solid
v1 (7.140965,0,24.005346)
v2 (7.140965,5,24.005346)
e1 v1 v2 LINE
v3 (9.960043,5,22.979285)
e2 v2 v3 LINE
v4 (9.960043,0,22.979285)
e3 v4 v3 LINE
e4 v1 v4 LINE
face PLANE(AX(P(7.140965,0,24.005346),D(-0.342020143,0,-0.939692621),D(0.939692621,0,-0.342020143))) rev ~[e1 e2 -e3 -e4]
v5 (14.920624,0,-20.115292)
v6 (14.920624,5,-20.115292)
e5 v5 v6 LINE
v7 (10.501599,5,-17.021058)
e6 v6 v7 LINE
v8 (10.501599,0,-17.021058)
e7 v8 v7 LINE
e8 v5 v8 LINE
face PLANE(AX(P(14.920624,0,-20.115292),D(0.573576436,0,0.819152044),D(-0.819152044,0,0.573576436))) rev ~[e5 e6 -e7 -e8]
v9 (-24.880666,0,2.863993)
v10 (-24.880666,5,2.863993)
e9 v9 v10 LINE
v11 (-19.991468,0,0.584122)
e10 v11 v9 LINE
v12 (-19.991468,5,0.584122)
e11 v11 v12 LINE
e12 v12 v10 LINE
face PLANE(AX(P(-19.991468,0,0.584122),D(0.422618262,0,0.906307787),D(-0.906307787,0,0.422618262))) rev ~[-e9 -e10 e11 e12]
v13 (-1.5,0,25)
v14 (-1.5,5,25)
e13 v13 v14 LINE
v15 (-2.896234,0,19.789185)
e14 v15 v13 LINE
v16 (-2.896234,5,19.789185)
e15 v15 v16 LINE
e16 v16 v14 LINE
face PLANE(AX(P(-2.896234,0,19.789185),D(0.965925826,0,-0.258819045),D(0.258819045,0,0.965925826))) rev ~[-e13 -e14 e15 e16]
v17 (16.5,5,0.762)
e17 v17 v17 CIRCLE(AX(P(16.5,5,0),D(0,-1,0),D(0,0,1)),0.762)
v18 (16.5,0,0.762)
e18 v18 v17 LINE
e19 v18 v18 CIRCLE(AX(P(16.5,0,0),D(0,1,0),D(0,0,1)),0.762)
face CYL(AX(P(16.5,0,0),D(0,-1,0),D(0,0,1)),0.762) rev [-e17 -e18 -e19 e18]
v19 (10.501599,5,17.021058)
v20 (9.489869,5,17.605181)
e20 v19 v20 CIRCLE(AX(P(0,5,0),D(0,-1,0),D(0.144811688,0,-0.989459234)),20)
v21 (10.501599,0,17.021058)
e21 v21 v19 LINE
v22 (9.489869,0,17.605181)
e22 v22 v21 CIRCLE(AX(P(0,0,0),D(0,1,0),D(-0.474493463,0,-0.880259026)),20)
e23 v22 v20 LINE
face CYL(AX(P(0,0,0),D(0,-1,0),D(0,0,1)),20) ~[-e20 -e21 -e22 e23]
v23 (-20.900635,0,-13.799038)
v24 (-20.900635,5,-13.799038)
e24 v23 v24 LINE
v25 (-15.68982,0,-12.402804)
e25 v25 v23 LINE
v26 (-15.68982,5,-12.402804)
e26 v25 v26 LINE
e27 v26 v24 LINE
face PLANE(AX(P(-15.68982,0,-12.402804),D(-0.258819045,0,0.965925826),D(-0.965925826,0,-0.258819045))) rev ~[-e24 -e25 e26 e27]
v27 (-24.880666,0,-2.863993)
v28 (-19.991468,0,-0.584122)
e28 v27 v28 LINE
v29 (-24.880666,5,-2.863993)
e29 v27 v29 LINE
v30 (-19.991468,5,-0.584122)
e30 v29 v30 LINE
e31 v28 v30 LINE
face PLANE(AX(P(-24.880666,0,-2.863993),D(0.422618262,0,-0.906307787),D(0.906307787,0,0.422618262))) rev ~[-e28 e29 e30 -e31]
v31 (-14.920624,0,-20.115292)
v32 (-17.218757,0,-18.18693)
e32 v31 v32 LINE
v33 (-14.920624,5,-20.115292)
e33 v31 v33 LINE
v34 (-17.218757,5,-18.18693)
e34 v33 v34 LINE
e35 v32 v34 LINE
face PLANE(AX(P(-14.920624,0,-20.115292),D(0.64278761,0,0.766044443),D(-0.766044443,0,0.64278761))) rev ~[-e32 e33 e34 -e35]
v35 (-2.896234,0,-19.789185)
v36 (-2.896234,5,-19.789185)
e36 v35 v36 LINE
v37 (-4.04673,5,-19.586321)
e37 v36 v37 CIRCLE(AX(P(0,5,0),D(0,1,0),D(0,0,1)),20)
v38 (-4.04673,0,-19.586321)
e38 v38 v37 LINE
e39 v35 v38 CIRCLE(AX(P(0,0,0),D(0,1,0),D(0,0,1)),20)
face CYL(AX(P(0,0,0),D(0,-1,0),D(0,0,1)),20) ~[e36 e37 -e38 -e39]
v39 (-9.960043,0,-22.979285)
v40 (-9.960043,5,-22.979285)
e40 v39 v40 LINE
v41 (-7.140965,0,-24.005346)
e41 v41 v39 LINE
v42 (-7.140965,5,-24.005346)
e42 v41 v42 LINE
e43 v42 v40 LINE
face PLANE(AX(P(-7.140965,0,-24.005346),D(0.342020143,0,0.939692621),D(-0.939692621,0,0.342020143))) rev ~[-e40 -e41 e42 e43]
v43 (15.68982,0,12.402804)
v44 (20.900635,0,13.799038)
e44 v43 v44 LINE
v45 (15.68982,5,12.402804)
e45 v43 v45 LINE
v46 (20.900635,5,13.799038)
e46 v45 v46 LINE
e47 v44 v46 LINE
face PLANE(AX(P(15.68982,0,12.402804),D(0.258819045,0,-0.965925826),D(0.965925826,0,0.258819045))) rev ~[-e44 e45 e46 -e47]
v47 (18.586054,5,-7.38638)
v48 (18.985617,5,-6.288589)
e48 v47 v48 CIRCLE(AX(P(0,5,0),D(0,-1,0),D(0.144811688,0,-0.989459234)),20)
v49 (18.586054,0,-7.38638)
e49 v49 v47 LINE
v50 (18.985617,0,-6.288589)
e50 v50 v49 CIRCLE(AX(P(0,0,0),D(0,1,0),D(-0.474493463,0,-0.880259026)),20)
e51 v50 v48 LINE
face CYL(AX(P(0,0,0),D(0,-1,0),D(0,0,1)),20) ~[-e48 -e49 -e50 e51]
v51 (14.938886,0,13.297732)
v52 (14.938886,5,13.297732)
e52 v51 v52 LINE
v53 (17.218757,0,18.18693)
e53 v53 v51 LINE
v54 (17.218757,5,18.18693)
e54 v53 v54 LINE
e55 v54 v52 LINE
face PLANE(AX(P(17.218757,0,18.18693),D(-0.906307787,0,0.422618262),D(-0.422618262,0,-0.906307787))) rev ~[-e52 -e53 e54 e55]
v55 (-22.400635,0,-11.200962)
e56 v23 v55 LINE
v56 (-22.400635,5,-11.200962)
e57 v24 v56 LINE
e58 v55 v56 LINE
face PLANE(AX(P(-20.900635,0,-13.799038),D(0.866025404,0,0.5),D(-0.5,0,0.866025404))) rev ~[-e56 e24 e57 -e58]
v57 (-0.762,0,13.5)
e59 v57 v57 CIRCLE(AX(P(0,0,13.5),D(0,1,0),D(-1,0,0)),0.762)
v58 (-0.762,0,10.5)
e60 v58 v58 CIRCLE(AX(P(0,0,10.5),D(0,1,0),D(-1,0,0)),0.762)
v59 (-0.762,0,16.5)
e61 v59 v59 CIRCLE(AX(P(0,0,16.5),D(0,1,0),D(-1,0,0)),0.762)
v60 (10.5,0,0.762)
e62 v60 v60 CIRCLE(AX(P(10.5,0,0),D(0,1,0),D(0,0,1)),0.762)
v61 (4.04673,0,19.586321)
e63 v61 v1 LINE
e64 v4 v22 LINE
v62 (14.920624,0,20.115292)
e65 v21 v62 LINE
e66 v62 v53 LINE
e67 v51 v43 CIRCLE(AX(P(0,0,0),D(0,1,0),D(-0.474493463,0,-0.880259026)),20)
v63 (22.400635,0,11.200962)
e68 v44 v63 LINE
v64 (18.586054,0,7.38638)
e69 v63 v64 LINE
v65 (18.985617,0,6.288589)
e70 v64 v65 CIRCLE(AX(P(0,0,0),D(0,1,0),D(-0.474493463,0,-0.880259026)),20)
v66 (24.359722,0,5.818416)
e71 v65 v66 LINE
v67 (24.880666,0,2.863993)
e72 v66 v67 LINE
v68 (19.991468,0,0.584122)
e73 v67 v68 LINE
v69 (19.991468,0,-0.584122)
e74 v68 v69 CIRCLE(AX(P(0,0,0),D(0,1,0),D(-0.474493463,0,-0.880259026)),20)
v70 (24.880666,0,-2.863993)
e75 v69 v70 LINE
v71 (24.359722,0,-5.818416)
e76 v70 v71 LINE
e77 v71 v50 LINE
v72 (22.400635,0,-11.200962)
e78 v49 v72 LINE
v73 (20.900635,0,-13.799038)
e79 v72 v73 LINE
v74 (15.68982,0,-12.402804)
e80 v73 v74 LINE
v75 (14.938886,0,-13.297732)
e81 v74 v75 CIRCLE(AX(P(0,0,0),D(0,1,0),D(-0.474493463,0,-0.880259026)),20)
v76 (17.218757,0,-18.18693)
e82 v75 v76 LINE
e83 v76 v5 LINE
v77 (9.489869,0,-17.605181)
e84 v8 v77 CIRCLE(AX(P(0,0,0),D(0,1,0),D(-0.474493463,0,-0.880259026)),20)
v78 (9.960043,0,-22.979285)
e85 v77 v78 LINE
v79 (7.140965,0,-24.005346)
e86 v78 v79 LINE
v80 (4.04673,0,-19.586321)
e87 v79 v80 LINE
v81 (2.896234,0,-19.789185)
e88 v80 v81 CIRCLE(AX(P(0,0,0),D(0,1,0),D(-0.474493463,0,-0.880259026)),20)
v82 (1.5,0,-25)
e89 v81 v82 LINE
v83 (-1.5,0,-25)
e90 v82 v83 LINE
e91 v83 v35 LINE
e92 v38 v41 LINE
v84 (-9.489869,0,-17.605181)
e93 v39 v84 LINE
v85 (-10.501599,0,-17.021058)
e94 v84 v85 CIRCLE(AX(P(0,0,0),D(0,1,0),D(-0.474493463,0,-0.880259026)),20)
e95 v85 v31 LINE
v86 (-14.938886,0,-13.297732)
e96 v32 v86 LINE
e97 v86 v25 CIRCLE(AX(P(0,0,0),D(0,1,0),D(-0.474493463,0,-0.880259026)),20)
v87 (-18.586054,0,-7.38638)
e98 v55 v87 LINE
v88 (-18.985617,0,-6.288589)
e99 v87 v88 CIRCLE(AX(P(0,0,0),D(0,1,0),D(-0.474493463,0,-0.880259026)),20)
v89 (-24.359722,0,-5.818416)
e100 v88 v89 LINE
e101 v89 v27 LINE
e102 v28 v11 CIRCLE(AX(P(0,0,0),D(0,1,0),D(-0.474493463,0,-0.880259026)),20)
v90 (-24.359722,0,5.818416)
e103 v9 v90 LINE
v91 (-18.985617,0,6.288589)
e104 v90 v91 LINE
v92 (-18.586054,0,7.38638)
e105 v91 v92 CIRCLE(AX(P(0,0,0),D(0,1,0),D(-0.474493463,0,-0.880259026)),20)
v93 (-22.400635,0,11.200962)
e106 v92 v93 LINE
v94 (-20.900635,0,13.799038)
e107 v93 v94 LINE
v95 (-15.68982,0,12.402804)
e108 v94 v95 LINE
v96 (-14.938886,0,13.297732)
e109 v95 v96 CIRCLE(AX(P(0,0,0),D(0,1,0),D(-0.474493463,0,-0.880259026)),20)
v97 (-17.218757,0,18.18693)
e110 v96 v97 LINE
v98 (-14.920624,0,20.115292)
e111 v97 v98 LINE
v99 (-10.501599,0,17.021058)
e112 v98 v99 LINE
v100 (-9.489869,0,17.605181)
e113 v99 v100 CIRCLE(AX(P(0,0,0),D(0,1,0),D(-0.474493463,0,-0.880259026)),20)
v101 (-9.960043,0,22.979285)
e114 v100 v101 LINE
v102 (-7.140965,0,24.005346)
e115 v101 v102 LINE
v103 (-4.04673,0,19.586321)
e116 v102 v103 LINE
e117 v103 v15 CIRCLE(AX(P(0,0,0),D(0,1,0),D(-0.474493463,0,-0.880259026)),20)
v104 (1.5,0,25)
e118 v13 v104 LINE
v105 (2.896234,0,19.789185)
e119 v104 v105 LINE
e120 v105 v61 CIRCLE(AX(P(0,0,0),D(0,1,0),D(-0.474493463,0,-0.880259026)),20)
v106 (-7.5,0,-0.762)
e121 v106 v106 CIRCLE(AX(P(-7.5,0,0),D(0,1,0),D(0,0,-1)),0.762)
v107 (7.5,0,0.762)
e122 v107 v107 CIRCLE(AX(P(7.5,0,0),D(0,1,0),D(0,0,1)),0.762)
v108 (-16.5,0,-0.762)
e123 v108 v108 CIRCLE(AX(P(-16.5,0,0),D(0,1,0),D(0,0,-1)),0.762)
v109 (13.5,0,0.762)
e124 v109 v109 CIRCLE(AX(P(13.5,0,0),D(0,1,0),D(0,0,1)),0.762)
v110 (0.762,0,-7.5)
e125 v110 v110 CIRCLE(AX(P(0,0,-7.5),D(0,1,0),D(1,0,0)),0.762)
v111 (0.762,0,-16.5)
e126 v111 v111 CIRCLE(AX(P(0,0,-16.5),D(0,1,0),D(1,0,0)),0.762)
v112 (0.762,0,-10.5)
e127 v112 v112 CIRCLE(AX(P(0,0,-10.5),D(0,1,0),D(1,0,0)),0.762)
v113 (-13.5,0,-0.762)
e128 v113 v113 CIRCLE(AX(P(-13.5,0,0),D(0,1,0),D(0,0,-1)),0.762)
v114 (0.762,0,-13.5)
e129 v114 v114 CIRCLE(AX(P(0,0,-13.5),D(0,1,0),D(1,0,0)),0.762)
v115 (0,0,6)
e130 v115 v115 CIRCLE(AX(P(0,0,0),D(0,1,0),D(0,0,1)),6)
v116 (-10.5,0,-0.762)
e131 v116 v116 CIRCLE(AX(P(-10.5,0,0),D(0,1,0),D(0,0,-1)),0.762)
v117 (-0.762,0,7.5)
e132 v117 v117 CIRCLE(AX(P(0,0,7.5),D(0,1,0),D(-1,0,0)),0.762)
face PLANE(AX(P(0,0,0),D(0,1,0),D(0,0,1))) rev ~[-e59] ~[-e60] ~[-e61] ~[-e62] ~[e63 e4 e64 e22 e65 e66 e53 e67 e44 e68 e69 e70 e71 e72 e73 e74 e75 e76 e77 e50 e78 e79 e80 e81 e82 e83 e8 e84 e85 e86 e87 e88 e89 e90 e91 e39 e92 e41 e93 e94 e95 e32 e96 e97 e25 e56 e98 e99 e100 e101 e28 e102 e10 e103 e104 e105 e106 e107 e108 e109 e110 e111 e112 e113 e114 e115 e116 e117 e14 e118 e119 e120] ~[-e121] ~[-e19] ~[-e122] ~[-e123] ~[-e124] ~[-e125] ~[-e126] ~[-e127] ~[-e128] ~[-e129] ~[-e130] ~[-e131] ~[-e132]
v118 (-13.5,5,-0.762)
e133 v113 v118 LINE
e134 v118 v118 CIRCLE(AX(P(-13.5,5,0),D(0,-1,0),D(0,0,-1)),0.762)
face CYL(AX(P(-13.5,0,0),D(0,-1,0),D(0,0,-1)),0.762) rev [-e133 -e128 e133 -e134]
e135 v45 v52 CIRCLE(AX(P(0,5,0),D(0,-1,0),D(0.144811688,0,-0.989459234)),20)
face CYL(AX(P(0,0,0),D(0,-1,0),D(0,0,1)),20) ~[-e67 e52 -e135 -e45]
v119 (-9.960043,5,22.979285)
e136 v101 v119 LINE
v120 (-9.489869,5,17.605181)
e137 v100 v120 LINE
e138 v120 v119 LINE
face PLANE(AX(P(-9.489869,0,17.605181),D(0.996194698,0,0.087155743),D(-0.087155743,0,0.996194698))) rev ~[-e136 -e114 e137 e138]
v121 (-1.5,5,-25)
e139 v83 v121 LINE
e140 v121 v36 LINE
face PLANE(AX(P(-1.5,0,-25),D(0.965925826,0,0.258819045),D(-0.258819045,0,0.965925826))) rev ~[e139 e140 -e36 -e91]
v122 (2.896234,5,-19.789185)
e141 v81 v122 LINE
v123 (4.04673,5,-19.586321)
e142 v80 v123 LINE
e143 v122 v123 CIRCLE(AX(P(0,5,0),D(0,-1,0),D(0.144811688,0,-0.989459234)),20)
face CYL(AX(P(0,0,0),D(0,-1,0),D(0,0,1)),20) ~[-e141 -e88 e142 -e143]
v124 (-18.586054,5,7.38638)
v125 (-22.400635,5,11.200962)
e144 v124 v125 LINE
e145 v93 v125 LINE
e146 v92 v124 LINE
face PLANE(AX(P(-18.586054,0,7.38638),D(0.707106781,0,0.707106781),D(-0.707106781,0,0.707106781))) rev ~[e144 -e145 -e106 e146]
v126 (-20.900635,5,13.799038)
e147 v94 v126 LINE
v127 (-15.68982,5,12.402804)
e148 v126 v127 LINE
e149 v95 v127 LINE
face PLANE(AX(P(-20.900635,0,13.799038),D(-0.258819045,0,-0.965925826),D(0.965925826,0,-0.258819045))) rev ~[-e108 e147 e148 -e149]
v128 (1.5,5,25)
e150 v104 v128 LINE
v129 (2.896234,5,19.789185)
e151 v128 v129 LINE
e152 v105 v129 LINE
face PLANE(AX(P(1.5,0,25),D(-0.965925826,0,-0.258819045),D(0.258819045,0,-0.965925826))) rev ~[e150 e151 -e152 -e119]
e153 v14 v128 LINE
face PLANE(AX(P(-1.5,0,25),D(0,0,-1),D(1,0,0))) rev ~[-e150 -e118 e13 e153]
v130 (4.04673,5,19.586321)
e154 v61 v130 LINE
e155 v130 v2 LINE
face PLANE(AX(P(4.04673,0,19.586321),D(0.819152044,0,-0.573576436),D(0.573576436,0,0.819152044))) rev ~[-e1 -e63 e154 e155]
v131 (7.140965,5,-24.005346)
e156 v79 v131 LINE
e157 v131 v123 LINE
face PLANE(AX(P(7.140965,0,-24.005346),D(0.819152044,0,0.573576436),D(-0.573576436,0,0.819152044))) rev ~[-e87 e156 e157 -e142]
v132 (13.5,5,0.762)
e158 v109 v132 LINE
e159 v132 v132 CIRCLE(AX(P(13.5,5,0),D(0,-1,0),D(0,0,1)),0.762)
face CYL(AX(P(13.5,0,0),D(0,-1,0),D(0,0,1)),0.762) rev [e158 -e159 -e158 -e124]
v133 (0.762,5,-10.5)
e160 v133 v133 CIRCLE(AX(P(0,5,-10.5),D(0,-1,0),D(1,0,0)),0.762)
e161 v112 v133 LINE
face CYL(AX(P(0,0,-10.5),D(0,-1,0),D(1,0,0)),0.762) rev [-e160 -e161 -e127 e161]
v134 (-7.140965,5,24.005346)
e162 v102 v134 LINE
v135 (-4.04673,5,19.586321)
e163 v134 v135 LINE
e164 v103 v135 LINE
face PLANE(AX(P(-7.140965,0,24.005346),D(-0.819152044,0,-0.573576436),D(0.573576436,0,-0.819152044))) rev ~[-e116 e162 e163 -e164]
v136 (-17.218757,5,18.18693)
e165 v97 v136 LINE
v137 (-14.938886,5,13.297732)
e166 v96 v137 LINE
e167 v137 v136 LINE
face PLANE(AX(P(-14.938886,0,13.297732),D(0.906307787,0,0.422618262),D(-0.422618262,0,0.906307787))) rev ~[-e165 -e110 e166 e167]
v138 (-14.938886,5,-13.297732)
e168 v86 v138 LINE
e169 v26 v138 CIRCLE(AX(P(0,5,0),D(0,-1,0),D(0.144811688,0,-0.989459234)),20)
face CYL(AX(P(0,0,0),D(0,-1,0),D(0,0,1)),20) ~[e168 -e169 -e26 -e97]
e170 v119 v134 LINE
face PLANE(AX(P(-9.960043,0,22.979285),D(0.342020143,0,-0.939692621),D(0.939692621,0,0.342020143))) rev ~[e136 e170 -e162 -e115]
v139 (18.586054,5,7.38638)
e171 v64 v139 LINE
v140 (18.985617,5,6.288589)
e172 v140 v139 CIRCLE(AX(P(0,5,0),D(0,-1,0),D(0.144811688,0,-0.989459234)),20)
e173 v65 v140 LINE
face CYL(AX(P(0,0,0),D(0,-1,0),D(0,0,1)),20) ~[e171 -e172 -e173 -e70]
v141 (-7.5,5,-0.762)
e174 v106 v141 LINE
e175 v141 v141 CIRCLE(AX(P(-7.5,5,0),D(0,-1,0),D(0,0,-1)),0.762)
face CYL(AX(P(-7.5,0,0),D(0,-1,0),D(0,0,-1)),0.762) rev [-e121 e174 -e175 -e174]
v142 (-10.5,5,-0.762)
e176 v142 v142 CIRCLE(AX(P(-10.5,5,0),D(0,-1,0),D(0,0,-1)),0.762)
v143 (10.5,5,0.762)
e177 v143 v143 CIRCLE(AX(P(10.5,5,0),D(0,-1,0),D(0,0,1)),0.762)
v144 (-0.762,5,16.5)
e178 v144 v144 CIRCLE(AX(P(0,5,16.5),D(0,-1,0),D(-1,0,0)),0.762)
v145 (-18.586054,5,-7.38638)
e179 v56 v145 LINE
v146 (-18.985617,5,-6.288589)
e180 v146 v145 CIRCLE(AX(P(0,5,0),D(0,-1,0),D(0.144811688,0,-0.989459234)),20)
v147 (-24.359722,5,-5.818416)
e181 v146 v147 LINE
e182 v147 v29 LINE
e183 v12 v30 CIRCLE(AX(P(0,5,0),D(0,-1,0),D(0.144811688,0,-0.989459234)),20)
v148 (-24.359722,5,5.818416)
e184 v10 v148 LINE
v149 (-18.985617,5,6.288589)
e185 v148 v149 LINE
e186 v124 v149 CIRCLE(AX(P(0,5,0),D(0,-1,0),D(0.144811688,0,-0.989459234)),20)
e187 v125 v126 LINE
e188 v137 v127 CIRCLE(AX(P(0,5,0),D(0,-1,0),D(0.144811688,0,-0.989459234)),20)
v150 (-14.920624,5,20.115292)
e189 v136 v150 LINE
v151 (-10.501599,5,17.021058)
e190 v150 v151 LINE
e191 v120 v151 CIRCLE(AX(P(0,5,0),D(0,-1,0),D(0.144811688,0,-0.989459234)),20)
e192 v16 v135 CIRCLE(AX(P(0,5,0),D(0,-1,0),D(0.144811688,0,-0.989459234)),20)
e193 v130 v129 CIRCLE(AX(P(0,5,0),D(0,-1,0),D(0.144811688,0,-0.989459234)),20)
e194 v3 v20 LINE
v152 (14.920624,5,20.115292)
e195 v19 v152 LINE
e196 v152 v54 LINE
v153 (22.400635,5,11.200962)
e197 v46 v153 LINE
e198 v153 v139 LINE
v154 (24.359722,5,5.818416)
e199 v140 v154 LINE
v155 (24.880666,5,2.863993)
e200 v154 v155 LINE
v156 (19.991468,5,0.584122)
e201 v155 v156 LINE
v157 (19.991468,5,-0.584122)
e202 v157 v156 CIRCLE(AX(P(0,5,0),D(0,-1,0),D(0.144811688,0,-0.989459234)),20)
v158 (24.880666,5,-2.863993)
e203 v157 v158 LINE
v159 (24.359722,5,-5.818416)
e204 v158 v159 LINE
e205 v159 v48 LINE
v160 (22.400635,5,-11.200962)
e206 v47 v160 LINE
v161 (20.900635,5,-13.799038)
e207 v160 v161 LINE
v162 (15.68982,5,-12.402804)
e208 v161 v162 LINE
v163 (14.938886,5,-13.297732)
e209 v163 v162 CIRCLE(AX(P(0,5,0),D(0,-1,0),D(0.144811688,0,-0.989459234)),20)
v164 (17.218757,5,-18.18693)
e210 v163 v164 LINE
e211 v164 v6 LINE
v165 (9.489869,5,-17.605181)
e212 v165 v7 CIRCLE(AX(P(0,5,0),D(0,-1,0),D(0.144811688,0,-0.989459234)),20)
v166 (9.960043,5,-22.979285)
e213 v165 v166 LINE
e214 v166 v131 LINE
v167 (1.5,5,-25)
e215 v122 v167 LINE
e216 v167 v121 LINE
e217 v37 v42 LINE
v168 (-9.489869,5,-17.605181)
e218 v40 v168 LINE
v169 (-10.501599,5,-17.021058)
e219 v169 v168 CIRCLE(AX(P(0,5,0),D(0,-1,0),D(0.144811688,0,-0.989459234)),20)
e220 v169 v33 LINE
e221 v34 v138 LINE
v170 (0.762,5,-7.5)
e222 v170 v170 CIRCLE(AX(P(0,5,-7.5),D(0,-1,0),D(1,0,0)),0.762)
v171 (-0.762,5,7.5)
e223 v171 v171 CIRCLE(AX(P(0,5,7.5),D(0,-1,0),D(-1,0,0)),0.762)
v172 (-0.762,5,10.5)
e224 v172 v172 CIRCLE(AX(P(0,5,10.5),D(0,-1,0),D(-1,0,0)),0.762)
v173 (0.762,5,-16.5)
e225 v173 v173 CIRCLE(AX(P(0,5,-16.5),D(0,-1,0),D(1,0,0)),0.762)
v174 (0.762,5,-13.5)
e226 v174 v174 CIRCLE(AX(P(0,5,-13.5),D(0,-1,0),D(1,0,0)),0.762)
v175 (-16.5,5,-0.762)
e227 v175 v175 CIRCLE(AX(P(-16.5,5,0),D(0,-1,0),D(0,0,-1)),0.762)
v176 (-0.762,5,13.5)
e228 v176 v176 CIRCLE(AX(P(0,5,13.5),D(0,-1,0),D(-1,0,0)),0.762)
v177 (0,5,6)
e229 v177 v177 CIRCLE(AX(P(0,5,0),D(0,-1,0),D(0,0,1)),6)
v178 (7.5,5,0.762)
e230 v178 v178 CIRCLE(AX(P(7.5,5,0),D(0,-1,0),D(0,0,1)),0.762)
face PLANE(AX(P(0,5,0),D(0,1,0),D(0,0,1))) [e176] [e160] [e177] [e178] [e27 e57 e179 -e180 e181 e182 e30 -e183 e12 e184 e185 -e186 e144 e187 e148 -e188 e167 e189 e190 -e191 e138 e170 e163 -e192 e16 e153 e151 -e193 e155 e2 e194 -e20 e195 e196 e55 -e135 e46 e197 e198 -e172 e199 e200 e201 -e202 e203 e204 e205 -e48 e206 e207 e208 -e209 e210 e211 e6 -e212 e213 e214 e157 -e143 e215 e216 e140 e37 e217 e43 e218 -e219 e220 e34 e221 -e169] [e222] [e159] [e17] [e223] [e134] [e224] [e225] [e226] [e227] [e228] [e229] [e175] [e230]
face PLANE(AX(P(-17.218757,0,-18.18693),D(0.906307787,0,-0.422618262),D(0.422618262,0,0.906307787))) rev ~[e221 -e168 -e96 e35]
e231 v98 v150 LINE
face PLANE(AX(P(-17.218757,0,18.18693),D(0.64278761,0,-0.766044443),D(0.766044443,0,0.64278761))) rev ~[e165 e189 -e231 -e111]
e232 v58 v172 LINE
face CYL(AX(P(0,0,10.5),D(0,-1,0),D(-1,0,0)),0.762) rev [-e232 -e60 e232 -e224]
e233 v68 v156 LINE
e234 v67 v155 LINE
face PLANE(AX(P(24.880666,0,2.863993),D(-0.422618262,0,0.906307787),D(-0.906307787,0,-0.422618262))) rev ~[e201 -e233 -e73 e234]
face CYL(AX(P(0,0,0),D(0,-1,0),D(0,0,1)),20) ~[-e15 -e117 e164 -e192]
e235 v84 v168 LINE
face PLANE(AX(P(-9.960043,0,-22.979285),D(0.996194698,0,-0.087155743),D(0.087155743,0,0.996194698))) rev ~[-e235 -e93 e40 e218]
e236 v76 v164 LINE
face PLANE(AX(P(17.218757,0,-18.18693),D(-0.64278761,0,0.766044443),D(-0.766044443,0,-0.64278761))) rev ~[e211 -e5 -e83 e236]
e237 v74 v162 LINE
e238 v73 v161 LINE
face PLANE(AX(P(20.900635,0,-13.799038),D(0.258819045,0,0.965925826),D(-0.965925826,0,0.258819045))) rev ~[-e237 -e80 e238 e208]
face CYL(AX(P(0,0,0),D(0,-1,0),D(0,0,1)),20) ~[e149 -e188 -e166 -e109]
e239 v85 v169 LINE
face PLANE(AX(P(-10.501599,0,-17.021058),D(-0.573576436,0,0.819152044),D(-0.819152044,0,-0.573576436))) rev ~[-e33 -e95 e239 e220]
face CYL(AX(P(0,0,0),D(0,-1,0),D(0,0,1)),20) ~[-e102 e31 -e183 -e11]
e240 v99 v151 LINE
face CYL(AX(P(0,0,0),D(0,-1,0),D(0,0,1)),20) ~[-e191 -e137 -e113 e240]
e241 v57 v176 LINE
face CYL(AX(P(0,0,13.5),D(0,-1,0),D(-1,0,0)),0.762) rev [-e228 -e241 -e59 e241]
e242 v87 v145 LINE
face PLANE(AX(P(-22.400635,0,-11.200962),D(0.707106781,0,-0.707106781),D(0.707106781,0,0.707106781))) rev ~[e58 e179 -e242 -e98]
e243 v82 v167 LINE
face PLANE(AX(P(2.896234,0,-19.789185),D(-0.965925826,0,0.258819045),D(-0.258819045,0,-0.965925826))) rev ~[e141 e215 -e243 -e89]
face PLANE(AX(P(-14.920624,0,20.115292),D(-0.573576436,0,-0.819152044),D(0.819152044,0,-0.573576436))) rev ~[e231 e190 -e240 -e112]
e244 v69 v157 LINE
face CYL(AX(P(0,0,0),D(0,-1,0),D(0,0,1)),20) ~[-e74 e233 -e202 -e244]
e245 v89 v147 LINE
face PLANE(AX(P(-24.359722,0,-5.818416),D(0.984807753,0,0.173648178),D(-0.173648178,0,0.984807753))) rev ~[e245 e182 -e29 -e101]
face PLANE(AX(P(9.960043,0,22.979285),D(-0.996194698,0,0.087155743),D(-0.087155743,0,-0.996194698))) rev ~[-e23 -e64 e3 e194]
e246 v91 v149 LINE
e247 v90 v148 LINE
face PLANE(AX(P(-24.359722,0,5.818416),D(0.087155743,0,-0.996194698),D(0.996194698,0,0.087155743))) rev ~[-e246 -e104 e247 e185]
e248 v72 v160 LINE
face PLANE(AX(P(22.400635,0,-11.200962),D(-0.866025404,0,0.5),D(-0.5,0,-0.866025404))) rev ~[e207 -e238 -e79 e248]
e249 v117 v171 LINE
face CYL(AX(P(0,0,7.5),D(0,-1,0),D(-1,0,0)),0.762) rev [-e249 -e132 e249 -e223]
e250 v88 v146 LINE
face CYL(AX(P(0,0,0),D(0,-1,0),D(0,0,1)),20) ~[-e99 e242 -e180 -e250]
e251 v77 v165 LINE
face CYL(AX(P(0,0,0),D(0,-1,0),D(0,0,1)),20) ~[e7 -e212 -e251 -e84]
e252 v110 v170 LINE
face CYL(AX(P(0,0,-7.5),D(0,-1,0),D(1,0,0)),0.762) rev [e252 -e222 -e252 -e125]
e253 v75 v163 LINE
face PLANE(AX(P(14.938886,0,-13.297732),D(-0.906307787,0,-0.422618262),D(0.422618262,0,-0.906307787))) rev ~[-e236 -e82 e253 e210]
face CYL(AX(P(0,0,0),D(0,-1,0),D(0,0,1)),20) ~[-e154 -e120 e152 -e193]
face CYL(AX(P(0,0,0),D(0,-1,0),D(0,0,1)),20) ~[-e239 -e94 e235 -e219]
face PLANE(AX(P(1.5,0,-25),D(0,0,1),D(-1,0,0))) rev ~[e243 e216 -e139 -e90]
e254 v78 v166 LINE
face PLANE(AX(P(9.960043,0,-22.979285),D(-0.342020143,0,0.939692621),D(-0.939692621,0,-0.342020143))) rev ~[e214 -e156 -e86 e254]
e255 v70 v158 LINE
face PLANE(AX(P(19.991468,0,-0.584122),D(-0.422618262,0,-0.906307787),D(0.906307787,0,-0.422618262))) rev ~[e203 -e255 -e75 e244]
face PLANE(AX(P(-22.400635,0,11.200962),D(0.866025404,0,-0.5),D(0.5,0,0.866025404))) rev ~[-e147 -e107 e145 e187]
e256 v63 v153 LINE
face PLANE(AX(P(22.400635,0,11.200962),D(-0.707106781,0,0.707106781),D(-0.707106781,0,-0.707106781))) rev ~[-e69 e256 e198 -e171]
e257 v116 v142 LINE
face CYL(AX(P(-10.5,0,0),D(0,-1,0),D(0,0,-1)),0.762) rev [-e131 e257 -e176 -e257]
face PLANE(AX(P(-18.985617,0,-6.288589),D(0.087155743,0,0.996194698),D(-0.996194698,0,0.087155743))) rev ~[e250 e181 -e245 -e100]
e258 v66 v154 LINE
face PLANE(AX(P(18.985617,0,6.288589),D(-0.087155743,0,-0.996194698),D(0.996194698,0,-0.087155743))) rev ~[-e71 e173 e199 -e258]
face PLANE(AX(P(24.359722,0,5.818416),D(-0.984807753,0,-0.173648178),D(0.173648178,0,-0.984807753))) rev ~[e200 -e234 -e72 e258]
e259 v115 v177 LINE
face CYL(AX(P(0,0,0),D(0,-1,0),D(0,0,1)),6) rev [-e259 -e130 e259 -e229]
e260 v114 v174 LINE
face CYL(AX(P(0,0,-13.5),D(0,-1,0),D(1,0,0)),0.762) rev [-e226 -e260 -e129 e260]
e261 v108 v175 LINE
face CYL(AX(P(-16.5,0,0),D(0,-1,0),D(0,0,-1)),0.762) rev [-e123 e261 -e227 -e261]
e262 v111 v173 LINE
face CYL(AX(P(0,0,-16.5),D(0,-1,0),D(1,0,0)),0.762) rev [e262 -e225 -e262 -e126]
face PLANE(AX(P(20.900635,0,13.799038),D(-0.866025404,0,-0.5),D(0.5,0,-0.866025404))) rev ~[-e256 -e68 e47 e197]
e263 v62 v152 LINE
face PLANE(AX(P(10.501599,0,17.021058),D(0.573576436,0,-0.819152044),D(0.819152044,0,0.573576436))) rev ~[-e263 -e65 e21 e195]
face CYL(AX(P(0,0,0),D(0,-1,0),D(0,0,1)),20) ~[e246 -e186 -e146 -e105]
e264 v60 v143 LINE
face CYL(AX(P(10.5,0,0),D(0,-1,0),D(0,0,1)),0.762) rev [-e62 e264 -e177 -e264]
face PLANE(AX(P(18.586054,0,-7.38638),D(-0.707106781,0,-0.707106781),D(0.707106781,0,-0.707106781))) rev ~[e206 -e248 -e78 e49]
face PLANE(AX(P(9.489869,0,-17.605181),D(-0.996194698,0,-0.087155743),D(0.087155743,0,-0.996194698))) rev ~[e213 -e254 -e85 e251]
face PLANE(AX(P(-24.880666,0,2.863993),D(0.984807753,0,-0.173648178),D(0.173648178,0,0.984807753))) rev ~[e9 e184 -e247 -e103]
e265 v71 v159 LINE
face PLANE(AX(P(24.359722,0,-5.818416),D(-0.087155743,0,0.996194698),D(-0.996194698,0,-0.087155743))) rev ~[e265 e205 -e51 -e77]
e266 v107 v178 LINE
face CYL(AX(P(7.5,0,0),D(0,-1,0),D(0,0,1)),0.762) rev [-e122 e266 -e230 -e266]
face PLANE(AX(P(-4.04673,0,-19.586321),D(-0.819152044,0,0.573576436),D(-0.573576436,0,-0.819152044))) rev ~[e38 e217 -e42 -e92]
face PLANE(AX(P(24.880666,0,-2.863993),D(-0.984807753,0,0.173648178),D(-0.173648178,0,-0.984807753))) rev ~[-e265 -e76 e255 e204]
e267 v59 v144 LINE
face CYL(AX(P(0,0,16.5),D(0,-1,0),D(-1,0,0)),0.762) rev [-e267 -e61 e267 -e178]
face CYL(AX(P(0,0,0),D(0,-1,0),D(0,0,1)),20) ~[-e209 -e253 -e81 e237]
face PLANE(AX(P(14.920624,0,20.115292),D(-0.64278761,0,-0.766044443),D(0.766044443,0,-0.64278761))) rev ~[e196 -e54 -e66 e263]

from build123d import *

# Parameters (mm, degrees)
SKETCH2_R           = 20
BOSS_EXTRUDE1_DEPTH = 5
BOSS_EXTRUDE2_DEPTH = 5
CIRPATTERN1_COUNT   = 18
SKETCH3_R           = 6
SKETCH3_R_2         = 0.762
CUT_EXTRUDE1_DEPTH  = 36.623693592
CIRPATTERN2_COUNT   = 4


with BuildPart() as part:
    # Sketch2 → Boss-Extrude1 (new body)
    with BuildSketch(Plane(origin=(0, 0, 0), x_dir=(1, 0, 0), z_dir=(0, 1, 0))):
        Circle(SKETCH2_R)
    extrude(amount=BOSS_EXTRUDE1_DEPTH)

    # Sketch2<3> → Boss-Extrude2 (add)
    with BuildSketch(Plane(origin=(0, 0, 0), x_dir=(1, 0, 0), z_dir=(0, 1, 0))):
        with BuildLine():
            ThreePointArc((-2.896233759, 19.789184673), (0, 20), (2.896233759, 19.789184673))
            Line((2.896233759, 19.789184673), (1.5, 25))
            Line((1.5, 25), (-1.5, 25))
            Line((-1.5, 25), (-2.896233759, 19.789184673))
        make_face()
    boss_extrude2 = extrude(amount=BOSS_EXTRUDE2_DEPTH)

    # CirPattern1: Boss-Extrude2 ×18 about axis
    cirpattern1_axis = Axis((0, 5, 0), (0, -1, 0))
    for i in range(1, CIRPATTERN1_COUNT):
        add(boss_extrude2.rotate(cirpattern1_axis, i * 360 / CIRPATTERN1_COUNT))

    # Sketch3 → Cut-Extrude1 (cut, through all)
    with BuildSketch(Plane(origin=(0, 0, 0), x_dir=(1, 0, 0), z_dir=(0, 1, 0))):
        Circle(SKETCH3_R)
        with Locations((7.5, 0)):
            Circle(SKETCH3_R_2)
        with Locations((10.5, 0)):
            Circle(SKETCH3_R_2)
        with Locations((13.5, 0)):
            Circle(SKETCH3_R_2)
        with Locations((16.5, 0)):
            Circle(SKETCH3_R_2)
    cut_extrude1 = extrude(amount=CUT_EXTRUDE1_DEPTH, mode=Mode.SUBTRACT)

    # CirPattern2: Cut-Extrude1 ×4 about axis
    cirpattern2_axis = Axis((0, 5, 0), (0, -1, 0))
    for i in range(1, CIRPATTERN2_COUNT):
        add(cut_extrude1.rotate(cirpattern2_axis, i * 360 / CIRPATTERN2_COUNT), mode=Mode.SUBTRACT)


solid = part.part
